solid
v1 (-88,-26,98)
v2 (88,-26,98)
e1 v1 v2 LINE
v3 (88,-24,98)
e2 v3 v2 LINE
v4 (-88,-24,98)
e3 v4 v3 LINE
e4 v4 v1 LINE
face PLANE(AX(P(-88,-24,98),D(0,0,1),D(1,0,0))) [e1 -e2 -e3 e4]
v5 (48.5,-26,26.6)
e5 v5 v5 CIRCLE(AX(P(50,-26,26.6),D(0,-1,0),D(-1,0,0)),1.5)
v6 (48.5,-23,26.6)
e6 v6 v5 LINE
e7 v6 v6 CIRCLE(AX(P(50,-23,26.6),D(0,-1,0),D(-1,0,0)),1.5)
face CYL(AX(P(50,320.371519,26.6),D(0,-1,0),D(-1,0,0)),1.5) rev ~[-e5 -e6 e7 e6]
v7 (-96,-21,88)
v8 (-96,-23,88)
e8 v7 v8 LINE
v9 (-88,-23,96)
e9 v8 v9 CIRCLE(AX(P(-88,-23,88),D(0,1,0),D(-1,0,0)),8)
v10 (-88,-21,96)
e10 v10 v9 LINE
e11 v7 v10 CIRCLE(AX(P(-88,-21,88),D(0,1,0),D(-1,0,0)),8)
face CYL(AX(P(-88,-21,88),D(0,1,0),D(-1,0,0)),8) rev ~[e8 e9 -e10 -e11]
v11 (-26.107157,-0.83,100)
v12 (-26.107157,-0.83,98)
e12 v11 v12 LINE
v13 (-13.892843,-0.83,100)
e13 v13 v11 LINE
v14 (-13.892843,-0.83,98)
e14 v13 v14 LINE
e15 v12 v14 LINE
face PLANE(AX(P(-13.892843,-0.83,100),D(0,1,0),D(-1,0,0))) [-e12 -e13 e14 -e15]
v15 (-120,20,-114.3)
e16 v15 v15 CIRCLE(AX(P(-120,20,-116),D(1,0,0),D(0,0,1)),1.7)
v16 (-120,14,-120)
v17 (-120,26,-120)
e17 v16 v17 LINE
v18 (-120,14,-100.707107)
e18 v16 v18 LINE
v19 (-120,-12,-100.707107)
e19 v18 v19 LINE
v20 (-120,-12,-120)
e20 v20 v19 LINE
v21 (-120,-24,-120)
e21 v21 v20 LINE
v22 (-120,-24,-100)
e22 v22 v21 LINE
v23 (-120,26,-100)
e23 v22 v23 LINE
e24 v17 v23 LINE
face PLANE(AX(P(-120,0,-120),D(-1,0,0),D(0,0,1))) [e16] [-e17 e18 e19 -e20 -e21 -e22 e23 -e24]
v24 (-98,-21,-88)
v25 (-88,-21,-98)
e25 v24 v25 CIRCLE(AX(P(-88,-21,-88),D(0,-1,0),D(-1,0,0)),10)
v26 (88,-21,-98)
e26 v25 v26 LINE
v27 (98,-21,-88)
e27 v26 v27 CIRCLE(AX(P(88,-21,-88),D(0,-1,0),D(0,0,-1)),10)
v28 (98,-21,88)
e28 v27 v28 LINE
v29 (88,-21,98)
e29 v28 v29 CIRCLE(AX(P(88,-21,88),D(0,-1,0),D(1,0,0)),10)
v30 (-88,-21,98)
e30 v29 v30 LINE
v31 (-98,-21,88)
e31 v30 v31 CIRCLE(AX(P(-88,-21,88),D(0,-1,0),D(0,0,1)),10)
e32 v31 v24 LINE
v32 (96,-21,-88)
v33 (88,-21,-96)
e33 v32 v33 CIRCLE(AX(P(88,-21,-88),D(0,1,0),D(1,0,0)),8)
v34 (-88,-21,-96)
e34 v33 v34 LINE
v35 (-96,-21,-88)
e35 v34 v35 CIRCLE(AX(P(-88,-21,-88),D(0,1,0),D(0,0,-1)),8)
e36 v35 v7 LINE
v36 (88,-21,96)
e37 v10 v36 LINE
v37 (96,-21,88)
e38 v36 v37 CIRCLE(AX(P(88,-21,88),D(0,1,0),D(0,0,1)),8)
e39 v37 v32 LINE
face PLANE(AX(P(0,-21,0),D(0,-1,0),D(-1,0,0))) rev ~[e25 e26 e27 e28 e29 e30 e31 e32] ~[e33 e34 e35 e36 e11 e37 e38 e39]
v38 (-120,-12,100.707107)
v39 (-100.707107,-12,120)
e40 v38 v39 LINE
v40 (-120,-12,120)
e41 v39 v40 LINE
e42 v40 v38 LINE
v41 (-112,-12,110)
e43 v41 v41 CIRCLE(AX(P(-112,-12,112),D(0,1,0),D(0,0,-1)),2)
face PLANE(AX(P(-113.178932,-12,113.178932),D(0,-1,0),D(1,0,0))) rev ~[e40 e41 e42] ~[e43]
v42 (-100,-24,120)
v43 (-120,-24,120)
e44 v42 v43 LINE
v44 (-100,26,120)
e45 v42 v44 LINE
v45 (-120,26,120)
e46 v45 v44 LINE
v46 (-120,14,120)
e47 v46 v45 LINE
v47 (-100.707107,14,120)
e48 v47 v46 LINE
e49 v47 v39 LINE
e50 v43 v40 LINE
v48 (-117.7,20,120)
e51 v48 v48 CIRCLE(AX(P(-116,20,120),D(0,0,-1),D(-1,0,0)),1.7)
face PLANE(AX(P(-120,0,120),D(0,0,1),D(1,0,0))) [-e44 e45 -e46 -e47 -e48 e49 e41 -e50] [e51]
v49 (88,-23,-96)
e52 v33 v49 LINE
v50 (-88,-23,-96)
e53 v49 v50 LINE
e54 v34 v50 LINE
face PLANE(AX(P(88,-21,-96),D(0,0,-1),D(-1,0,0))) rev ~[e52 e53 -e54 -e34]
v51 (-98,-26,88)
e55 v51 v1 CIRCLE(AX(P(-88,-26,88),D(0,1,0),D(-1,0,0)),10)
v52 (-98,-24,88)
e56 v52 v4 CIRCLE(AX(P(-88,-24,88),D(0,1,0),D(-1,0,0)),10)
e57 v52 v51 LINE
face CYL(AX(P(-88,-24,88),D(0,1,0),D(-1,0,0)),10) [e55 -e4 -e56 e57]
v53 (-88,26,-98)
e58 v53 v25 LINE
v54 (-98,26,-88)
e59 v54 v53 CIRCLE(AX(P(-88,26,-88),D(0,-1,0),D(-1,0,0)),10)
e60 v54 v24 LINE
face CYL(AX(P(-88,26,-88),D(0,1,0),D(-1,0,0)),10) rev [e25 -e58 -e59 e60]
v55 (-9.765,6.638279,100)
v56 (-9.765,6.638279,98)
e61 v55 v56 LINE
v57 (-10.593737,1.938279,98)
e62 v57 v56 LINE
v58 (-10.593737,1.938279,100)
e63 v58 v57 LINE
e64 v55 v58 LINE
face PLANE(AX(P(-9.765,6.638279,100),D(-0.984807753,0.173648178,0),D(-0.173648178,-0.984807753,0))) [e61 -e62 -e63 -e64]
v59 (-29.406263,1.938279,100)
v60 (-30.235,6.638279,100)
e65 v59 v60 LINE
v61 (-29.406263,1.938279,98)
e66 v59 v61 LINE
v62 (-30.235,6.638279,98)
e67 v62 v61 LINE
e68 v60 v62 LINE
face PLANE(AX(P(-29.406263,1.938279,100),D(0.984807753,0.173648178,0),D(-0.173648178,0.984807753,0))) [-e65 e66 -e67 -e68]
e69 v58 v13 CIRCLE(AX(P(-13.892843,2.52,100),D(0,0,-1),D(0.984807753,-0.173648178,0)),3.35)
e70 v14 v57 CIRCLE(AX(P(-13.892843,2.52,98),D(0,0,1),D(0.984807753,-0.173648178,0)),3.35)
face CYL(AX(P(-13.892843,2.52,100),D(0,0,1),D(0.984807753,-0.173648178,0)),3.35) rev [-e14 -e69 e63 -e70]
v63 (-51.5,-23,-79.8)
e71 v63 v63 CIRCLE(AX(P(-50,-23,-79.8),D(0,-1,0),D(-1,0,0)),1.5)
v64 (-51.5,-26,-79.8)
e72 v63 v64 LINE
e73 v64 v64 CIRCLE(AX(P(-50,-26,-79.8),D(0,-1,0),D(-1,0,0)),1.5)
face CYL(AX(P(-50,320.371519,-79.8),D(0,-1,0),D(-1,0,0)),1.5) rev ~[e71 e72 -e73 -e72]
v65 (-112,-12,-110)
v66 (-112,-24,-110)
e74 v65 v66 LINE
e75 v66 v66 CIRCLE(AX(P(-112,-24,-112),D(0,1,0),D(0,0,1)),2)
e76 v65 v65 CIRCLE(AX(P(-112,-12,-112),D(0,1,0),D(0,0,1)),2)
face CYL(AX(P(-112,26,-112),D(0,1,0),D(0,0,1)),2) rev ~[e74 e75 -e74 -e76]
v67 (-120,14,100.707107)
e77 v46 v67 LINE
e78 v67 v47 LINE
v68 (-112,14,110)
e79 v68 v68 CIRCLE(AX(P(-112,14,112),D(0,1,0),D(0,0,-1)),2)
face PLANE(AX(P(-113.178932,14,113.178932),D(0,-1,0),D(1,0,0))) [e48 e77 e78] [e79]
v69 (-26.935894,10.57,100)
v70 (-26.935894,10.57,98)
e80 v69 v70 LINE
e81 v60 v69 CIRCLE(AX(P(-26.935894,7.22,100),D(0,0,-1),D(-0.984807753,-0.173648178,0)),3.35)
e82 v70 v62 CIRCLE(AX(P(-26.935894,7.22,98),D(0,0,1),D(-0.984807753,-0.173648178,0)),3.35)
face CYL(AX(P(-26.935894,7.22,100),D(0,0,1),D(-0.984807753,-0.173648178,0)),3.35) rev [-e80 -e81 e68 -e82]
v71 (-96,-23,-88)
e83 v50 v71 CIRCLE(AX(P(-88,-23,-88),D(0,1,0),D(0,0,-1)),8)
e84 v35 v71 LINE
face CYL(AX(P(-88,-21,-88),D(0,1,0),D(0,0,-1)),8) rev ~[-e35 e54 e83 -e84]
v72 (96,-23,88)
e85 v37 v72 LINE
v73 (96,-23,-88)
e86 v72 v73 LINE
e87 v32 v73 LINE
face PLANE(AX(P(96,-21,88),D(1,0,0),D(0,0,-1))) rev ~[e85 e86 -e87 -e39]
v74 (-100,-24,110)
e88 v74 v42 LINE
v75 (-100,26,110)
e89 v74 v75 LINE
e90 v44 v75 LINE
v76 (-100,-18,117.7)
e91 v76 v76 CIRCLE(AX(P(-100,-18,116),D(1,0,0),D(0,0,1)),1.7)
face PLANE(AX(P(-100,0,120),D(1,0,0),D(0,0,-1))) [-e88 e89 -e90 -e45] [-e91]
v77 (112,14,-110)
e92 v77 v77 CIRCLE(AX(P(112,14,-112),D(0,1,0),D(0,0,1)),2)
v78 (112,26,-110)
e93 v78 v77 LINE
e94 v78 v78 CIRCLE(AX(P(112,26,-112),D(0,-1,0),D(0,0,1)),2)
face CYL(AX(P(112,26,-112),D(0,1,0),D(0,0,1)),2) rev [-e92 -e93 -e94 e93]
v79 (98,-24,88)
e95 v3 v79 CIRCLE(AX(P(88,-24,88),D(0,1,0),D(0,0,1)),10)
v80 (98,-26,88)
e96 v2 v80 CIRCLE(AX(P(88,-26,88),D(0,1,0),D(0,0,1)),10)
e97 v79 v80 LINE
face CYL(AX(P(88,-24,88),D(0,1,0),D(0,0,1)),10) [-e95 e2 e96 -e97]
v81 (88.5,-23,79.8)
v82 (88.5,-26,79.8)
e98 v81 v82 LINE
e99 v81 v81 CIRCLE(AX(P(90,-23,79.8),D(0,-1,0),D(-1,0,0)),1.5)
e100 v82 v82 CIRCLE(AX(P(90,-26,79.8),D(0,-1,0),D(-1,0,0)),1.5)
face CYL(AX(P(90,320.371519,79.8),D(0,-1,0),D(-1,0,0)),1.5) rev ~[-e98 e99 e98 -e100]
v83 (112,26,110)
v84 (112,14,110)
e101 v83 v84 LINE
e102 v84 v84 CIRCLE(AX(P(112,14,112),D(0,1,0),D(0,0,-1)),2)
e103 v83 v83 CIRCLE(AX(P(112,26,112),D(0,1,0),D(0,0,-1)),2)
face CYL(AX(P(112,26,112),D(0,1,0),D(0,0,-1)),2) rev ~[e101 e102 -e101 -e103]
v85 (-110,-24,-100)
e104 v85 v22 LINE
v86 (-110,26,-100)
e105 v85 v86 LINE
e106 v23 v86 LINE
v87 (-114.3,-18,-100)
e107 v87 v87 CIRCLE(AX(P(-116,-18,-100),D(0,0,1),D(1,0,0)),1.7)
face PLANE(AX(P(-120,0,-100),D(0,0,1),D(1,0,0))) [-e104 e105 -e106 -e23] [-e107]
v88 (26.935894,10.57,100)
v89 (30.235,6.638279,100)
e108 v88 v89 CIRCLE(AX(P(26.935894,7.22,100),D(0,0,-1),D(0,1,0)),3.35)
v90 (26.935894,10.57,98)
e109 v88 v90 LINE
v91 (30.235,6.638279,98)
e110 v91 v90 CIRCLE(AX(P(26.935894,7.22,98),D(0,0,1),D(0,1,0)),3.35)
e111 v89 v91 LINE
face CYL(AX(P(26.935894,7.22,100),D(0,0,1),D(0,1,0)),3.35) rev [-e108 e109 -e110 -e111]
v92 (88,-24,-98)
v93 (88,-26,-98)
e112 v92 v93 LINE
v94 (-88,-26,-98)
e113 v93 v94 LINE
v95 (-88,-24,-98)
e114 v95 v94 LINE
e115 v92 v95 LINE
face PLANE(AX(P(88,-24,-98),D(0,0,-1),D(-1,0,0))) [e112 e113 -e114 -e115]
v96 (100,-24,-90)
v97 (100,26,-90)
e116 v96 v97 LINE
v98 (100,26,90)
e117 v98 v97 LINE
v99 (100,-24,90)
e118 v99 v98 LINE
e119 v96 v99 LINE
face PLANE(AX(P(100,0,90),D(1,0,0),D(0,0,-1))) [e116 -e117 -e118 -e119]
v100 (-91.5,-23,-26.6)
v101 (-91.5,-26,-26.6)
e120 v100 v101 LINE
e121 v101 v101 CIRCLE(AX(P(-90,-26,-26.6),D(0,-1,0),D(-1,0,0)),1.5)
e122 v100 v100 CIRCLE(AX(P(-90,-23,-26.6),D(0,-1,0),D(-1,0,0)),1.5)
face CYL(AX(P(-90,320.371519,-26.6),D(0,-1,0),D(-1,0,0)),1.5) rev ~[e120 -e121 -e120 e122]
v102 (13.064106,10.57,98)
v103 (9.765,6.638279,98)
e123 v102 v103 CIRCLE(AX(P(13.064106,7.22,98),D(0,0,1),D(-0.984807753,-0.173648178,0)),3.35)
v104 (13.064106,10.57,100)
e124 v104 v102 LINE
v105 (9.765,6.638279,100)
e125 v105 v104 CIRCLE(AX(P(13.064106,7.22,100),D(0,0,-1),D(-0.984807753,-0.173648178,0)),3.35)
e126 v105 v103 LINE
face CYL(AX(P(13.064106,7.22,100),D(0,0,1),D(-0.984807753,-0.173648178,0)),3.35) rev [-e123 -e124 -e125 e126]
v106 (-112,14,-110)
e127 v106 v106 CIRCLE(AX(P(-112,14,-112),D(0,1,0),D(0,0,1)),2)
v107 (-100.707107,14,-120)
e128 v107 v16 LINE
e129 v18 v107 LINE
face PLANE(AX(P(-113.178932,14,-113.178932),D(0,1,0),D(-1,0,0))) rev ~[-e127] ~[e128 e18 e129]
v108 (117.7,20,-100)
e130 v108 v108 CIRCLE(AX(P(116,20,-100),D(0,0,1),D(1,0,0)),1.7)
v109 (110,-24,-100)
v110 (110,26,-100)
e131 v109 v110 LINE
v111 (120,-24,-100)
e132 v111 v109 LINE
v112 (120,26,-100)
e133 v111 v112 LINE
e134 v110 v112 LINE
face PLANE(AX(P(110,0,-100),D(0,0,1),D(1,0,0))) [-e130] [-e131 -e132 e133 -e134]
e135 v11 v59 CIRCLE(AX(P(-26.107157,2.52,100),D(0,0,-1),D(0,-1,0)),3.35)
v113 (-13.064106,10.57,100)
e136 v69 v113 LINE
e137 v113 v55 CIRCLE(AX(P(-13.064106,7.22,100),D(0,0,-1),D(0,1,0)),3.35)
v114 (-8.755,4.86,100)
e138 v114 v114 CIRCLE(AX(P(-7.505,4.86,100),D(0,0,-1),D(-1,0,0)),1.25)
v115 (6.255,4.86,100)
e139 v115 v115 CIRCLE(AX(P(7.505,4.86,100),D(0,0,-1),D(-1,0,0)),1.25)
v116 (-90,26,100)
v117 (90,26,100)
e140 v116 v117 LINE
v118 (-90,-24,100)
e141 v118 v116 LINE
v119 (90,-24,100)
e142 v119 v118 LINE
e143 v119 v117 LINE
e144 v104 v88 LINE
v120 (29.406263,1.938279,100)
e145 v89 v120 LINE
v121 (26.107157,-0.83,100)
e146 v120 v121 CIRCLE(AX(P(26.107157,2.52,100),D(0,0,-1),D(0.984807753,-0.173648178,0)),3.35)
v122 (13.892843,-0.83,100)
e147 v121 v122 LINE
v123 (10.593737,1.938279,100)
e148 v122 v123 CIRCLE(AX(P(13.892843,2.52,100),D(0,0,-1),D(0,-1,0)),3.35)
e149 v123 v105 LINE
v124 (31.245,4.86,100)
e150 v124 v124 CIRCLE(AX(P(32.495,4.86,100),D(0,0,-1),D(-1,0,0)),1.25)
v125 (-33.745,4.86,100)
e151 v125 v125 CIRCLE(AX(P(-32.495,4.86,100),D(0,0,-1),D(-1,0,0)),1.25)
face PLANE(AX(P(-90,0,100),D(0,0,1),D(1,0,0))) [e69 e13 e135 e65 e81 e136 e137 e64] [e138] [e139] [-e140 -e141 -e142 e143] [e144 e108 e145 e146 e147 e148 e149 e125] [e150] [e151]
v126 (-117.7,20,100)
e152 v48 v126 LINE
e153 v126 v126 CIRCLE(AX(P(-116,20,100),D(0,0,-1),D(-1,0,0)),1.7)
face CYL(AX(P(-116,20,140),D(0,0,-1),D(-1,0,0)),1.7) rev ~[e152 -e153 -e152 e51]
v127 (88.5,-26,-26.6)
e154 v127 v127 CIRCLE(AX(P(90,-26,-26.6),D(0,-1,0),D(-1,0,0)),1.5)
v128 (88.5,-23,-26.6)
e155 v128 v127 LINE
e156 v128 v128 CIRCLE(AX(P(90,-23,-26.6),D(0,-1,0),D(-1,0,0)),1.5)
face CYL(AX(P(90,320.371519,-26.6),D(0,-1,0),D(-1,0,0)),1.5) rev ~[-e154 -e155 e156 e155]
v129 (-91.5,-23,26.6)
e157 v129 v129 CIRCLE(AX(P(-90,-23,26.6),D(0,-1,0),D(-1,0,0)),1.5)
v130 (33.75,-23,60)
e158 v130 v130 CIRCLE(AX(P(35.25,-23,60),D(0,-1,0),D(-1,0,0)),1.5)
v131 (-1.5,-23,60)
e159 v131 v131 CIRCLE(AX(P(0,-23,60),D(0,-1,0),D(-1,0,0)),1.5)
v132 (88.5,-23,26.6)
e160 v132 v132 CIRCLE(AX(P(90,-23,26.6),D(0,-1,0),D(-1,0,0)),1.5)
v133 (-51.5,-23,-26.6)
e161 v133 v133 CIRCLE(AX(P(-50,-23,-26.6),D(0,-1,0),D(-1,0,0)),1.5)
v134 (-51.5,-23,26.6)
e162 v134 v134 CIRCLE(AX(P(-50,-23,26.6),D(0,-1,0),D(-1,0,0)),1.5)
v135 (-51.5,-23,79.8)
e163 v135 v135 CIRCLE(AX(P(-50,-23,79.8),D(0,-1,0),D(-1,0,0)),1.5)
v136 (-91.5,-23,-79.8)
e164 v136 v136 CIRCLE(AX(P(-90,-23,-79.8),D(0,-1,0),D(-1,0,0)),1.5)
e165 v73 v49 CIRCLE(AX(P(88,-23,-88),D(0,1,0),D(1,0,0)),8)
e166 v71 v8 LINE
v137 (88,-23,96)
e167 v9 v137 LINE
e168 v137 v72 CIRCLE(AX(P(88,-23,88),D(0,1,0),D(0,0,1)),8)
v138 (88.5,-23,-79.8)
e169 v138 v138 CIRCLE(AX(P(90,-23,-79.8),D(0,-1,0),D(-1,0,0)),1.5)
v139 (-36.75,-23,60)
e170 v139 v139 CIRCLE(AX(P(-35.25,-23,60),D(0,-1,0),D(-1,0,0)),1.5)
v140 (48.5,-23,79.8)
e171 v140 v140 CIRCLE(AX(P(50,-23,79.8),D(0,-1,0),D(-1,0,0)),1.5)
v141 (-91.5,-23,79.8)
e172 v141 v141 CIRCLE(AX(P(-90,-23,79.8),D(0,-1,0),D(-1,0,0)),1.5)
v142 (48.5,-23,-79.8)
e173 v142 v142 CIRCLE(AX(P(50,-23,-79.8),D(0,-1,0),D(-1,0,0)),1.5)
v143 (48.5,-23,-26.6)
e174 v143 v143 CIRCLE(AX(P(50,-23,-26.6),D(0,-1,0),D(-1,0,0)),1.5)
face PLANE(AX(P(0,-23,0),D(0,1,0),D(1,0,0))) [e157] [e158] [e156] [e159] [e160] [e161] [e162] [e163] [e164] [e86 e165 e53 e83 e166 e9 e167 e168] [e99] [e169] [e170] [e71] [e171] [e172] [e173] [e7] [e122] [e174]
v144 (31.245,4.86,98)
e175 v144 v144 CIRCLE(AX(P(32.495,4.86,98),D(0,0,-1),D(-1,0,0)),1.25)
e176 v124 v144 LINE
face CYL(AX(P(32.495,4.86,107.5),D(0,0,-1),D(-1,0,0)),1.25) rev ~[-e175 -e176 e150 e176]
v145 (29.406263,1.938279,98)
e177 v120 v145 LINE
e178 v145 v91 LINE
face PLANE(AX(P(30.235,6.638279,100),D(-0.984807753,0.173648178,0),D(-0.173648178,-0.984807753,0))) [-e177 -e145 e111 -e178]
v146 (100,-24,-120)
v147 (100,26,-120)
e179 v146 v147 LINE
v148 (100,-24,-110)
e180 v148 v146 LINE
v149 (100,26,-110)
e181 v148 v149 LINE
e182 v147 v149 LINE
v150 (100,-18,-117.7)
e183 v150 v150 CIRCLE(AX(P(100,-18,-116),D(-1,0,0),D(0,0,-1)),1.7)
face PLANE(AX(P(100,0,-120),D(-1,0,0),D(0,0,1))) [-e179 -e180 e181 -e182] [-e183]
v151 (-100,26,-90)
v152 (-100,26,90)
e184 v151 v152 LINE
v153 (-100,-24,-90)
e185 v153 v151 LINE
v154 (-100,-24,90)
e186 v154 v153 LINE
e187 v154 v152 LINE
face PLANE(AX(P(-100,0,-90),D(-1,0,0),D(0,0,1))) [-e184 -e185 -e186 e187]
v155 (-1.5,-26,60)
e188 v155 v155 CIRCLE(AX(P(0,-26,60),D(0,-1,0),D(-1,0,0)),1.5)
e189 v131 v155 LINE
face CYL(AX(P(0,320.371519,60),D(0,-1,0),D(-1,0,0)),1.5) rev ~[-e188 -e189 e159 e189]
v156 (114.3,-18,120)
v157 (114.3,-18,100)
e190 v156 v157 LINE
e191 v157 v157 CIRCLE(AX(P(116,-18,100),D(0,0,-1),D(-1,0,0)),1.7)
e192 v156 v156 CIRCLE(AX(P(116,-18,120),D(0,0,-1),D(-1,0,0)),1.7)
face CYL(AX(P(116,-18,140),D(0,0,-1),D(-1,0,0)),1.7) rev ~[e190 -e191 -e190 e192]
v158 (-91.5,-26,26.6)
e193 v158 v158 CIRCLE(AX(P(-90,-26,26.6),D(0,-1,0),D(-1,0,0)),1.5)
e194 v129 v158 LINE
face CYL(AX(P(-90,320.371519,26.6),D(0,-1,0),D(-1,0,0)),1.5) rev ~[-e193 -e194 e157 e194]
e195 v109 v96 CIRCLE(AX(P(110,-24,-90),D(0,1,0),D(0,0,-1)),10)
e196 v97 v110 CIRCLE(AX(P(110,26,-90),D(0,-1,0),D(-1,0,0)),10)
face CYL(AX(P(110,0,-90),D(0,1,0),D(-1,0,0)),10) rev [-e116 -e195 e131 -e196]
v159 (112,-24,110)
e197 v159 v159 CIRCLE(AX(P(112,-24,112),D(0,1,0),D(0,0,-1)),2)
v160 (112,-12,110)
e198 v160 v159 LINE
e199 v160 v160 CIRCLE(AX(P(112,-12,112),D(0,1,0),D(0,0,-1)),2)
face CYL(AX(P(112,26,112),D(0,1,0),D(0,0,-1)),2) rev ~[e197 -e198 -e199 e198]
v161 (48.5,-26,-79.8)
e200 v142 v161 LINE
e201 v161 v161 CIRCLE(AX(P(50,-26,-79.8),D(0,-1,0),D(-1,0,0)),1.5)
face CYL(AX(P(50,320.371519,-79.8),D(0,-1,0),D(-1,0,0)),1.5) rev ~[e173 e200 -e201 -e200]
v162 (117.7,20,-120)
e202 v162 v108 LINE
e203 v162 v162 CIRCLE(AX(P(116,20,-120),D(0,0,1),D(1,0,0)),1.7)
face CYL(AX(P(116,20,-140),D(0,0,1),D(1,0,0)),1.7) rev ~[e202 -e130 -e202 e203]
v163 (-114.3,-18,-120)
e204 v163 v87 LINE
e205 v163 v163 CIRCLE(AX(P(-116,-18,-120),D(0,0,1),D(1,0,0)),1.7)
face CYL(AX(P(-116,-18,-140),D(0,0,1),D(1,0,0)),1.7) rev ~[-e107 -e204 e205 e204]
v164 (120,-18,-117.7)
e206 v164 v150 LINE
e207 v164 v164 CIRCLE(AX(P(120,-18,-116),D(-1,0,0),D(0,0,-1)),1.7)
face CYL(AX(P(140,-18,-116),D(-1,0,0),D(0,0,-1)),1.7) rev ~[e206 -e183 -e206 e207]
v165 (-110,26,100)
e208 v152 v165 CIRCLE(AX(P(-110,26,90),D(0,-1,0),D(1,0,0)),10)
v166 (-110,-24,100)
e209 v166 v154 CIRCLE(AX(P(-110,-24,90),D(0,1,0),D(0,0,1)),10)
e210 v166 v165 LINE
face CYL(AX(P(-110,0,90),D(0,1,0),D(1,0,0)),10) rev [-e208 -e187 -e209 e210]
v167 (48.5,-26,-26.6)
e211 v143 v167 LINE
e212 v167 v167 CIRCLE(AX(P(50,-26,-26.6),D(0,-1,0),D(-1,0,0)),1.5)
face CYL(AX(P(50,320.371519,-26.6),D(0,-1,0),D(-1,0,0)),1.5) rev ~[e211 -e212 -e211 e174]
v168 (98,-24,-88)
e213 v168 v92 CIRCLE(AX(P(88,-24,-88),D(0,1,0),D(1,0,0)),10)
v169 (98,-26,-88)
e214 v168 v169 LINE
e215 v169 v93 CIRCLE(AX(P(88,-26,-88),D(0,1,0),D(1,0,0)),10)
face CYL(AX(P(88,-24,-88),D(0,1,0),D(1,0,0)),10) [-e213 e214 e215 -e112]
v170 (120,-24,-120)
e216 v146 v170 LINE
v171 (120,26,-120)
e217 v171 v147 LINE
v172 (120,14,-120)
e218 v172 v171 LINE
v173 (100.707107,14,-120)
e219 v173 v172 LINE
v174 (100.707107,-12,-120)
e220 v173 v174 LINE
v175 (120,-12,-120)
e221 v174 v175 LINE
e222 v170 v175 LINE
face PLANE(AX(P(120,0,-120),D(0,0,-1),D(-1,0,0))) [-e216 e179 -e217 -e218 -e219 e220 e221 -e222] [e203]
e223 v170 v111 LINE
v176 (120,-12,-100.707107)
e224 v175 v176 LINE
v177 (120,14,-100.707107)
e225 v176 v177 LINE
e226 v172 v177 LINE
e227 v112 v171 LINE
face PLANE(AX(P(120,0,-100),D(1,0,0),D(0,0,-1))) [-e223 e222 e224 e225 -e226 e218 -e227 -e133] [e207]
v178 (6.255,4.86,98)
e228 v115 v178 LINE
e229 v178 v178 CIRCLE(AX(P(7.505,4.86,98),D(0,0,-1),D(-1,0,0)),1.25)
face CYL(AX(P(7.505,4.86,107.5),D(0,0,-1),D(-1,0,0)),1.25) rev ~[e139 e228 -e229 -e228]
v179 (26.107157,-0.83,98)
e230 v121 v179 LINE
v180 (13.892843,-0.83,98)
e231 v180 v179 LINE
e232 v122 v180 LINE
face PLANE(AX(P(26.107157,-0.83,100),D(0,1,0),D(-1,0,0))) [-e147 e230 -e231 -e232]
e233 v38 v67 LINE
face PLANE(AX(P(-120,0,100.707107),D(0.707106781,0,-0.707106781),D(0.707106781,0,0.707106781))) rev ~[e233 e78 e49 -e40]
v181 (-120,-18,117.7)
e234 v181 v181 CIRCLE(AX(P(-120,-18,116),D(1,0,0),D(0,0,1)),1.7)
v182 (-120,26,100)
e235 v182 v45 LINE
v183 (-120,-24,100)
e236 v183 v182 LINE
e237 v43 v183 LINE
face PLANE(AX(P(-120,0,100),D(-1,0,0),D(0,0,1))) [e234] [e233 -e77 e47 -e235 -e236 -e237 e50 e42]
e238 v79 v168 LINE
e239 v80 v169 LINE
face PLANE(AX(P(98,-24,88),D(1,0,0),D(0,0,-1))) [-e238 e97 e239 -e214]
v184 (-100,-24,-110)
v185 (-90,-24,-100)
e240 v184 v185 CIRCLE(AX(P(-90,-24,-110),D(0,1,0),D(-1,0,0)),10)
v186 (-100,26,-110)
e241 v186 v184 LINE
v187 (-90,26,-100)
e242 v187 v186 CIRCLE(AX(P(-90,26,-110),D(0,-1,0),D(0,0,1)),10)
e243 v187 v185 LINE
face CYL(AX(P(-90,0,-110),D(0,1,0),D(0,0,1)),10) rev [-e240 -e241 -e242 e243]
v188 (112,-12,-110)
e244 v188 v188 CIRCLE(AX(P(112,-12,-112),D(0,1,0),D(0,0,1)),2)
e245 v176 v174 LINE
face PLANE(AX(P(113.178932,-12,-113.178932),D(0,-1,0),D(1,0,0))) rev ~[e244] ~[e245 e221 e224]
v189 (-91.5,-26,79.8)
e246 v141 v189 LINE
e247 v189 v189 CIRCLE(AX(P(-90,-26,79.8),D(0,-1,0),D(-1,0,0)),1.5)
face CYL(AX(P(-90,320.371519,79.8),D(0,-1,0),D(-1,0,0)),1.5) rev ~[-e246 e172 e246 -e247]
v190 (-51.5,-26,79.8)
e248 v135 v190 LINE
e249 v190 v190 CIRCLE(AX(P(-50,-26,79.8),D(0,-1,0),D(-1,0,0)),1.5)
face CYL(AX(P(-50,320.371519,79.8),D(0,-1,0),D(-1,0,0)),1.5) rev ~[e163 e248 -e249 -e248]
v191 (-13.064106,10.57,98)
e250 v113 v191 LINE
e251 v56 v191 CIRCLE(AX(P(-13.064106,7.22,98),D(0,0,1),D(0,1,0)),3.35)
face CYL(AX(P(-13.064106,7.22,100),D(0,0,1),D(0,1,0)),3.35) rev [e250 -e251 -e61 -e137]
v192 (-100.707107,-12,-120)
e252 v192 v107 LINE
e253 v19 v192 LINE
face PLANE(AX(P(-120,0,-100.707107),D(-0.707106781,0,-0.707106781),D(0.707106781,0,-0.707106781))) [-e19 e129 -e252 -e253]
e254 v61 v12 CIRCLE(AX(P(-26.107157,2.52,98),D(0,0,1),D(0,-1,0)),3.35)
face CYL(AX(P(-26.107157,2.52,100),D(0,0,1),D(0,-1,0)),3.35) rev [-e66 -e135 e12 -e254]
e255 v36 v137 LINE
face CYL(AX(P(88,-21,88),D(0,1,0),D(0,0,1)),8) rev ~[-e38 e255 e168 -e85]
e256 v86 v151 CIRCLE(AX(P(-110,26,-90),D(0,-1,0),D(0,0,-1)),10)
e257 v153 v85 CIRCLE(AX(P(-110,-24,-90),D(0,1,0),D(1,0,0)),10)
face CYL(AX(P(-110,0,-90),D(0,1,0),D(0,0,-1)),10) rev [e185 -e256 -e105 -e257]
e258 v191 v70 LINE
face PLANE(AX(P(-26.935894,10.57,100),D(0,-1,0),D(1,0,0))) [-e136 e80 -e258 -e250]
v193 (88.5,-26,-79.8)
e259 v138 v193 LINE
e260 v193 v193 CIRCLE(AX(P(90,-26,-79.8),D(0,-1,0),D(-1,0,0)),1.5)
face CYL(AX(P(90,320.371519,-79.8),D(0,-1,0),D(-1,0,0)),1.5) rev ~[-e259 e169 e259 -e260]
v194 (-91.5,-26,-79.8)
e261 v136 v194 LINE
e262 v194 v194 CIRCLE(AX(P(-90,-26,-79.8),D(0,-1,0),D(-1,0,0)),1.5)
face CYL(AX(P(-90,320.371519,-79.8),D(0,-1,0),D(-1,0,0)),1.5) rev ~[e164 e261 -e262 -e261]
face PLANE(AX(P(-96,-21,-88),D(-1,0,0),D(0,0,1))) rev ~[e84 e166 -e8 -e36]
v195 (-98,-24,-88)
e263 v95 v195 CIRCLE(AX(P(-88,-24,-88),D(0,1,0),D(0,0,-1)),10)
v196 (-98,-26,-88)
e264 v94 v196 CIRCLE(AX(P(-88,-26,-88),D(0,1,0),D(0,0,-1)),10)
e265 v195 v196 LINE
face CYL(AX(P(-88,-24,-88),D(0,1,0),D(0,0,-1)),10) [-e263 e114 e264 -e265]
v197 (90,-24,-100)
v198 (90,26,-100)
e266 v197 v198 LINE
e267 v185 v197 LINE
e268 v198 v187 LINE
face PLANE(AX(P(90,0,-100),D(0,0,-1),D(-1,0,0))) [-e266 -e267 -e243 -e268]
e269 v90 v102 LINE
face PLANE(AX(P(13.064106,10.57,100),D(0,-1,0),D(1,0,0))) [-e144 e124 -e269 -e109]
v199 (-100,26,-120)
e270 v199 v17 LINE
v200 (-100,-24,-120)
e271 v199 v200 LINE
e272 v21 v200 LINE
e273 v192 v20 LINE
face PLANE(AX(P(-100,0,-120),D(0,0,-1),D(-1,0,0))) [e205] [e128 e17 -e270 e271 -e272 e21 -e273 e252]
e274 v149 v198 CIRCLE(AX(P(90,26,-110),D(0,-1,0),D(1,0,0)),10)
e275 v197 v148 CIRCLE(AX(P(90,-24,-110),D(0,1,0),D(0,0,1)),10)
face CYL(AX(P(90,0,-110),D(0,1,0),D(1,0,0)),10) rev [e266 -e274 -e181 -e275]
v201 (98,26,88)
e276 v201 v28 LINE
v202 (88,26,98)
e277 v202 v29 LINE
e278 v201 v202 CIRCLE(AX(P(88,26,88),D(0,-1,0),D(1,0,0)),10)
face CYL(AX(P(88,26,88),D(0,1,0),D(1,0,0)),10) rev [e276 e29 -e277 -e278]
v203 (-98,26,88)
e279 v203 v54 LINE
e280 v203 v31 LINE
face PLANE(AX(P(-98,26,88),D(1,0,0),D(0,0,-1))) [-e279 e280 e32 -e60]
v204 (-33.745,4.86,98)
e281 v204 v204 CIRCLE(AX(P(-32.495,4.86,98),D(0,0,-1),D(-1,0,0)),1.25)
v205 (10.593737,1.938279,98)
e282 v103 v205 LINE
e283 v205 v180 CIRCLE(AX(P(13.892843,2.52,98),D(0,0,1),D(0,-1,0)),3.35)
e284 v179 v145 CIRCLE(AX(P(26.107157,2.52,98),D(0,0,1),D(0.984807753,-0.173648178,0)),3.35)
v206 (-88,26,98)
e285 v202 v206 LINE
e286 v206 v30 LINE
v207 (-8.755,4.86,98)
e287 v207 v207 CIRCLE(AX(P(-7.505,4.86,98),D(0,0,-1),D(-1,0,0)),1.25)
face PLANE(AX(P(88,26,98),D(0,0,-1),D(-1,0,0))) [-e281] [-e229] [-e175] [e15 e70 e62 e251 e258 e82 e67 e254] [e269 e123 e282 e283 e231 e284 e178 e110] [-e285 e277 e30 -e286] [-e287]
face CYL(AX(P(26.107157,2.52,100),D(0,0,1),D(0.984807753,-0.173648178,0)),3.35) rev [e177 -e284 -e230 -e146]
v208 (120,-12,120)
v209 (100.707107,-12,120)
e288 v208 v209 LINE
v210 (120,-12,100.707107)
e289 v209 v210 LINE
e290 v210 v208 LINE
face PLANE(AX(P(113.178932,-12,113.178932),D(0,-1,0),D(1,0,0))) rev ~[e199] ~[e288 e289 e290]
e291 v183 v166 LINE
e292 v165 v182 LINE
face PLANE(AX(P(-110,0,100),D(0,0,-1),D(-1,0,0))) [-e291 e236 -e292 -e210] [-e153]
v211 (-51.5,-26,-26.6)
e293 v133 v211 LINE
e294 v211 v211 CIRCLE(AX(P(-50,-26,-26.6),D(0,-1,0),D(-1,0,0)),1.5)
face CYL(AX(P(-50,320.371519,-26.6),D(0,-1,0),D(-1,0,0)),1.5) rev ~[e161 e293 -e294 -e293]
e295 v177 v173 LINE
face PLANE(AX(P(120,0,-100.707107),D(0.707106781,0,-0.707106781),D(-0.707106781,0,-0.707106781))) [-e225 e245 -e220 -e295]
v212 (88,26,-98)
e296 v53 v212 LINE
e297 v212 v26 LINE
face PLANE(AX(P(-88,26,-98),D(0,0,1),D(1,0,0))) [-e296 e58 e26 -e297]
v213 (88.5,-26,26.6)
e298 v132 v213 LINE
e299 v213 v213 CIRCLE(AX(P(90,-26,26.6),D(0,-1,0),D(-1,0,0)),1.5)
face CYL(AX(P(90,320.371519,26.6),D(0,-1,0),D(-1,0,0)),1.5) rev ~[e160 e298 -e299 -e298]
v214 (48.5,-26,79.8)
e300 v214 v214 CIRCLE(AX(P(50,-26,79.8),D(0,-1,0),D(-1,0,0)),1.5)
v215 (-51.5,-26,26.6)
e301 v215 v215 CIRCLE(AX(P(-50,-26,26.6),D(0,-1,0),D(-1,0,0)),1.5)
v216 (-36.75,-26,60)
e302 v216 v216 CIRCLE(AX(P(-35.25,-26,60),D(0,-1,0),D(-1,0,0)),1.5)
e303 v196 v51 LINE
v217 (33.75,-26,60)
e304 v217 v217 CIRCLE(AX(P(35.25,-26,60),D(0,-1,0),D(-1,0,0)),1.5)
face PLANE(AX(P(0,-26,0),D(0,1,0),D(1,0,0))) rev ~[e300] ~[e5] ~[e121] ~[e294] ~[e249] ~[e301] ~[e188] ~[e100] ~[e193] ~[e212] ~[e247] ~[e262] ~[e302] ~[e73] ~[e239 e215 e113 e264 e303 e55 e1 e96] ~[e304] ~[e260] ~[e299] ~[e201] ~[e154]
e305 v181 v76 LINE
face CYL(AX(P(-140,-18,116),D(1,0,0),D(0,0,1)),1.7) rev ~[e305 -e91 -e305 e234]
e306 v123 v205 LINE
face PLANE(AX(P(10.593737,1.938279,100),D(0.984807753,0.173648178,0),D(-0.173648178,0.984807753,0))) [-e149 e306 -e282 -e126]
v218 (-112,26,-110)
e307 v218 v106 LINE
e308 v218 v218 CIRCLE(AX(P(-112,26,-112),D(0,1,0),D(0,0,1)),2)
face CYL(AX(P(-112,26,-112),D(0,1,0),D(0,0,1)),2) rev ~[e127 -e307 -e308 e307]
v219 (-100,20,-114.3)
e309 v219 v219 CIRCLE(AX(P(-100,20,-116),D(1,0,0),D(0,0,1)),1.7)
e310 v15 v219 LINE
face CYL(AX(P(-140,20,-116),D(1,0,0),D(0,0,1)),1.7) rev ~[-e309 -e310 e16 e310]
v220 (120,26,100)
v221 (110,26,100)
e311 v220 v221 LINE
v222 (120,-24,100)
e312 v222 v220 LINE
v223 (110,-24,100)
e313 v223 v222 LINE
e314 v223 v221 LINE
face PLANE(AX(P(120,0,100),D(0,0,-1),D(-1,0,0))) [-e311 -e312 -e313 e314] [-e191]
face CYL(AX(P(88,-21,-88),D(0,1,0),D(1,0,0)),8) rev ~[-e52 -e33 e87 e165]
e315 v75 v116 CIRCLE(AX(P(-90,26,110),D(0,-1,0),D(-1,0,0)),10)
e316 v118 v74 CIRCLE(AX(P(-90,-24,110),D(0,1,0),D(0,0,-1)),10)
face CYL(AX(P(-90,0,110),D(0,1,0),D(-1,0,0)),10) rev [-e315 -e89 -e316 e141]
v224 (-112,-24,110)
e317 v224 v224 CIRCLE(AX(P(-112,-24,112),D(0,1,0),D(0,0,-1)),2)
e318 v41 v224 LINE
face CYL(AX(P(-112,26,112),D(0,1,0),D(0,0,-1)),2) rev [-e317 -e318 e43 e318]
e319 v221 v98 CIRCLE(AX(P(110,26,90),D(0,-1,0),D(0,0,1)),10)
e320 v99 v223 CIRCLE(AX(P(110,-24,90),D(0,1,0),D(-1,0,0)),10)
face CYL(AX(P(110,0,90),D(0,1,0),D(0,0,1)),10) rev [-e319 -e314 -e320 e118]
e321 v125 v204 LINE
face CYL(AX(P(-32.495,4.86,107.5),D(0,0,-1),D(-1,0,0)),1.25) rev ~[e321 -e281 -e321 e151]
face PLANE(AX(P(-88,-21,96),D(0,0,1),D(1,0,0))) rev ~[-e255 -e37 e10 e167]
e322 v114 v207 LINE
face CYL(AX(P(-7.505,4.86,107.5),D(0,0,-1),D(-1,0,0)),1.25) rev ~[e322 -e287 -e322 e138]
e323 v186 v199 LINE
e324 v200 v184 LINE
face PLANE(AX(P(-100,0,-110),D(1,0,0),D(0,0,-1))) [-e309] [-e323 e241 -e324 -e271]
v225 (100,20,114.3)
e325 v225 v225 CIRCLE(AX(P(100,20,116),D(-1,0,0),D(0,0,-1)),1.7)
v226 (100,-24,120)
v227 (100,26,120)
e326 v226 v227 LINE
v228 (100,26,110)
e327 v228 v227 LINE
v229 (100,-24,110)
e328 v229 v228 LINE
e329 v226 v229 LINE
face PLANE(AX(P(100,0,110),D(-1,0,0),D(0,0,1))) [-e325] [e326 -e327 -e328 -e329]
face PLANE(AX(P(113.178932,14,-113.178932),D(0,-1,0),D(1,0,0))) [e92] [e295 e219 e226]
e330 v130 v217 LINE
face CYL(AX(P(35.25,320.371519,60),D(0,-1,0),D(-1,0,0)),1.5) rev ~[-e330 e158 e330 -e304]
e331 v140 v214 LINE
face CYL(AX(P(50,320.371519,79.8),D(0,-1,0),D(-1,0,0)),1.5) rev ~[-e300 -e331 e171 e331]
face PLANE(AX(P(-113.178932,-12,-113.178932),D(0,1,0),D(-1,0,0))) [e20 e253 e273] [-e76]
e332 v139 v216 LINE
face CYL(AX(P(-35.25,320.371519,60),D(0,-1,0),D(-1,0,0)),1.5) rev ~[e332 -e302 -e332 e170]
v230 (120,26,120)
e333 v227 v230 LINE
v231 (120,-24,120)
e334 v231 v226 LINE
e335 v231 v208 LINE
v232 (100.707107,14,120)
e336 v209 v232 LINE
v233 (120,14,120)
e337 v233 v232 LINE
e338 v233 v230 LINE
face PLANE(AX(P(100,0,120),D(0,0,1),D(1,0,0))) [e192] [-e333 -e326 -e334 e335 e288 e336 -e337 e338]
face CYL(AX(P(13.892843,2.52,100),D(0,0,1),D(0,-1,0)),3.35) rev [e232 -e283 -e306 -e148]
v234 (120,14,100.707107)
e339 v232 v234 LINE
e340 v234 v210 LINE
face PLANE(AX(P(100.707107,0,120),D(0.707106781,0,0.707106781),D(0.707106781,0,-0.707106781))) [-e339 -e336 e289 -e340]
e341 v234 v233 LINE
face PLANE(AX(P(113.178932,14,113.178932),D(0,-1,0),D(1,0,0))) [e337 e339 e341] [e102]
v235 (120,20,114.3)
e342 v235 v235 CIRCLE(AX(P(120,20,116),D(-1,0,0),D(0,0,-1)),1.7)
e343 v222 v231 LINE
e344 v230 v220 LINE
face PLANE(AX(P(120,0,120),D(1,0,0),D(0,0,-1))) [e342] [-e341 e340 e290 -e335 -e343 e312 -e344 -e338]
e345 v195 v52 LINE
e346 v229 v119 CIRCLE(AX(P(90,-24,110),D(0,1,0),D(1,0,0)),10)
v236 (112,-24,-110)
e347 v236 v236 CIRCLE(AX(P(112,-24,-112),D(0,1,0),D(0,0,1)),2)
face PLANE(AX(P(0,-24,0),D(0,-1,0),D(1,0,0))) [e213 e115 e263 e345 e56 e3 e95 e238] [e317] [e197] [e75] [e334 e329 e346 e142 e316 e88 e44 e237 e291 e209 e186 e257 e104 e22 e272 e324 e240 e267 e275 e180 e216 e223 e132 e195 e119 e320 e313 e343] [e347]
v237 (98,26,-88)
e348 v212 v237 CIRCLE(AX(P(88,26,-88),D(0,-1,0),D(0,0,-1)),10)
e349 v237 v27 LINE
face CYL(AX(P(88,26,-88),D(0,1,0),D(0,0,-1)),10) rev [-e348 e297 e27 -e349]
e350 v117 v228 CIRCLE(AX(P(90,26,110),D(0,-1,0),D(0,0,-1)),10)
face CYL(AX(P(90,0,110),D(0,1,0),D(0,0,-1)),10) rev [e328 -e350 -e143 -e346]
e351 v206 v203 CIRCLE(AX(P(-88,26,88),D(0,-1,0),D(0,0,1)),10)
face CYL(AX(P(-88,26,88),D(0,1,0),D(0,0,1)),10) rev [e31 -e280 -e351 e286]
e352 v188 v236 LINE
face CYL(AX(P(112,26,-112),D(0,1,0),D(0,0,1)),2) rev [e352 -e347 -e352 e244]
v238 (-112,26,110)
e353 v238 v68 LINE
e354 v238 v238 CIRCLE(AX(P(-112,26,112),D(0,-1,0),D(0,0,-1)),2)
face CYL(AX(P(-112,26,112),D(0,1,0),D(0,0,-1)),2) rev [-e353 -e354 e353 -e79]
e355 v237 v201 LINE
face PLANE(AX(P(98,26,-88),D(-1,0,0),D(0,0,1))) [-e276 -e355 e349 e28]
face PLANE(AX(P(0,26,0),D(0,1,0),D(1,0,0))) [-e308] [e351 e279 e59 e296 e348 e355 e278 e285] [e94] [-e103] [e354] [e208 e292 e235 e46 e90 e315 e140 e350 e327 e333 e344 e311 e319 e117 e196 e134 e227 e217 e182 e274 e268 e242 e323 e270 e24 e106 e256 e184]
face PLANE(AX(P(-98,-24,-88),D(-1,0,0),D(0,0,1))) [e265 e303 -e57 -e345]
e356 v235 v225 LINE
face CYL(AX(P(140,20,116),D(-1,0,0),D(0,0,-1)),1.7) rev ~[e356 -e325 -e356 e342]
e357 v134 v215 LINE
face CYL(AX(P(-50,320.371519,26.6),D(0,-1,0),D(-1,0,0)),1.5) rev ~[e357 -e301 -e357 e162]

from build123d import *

# Parameters (mm, degrees)
BOSS_EXTRUDE1_DEPTH                = 26
CUT_EXTRUDE1_DEPTH                 = 14
CUT_EXTRUDE2_DEPTH                 = 47
CUT_EXTRUDE3_DEPTH                 = 2
SKETCH5_R                          = 2
CUT_EXTRUDE4_DEPTH                 = 178.493661859
MIRROR2_COPY_1_SKETCH_R            = 2
MIRROR2_COPY_1_DEPTH               = 178.493661859
CUT_EXTRUDE5_DEPTH                 = 12
CUT_EXTRUDE6_START                 = -2
CUT_EXTRUDE6_DEPTH                 = 2
F_3_0_3_DIAMETER_HOLE3_D           = 3
M3_CLEARANCE_HOLE2_D               = 3.4
M3_CLEARANCE_HOLE2_DEPTH           = 20
M3_CLEARANCE_HOLE2_ON_FACE_2_D     = 3.4
M3_CLEARANCE_HOLE2_ON_FACE_2_DEPTH = 20
M3_CLEARANCE_HOLE2_ON_FACE_3_D     = 3.4
M3_CLEARANCE_HOLE2_ON_FACE_3_DEPTH = 20
M3_CLEARANCE_HOLE2_ON_FACE_4_D     = 3.4
M3_CLEARANCE_HOLE2_ON_FACE_4_DEPTH = 20
CUT_EXTRUDE7_DEPTH                 = 10
CUT_EXTRUDE8_DEPTH                 = 10
M3X0_5_TAPPED_HOLE1_D              = 2.5
M3X0_5_TAPPED_HOLE1_DEPTH          = 7.5
M3X0_5_TAPPED_HOLE1_TIP            = 0.751075774


with BuildPart() as part:
    # Sketch1 → Boss-Extrude1 (new, symmetric)
    with BuildSketch(Plane(origin=(0, 0, 0), x_dir=(1, 0, 0), z_dir=(0, 1, 0))):
        with BuildLine():
            Line((-100, 120), (-120, 120))
            Line((-120, 120), (-120, 100))
            Line((-120, 100), (-110, 100))
            ThreePointArc((-110, 100), (-102.928932188, 97.071067812), (-100, 90))
            Line((-100, 90), (-100, 0))
            Line((-100, 0), (-100, -90))
            ThreePointArc((-100, -90), (-102.928932188, -97.071067812), (-110, -100))
            Line((-110, -100), (-120, -100))
            Line((-120, -100), (-120, -120))
            Line((-120, -120), (-100, -120))
            Line((-100, -120), (-100, -110))
            ThreePointArc((-100, -110), (-97.071067812, -102.928932188), (-90, -100))
            Line((-90, -100), (0, -100))
            Line((0, -100), (90, -100))
            ThreePointArc((90, -100), (97.071067812, -102.928932188), (100, -110))
            Line((100, -110), (100, -120))
            Line((100, -120), (120, -120))
            Line((120, -120), (120, -100))
            Line((120, -100), (110, -100))
            ThreePointArc((110, -100), (102.928932188, -97.071067812), (100, -90))
            Line((100, -90), (100, 0))
            Line((100, 0), (100, 90))
            ThreePointArc((100, 90), (102.928932188, 97.071067812), (110, 100))
            Line((110, 100), (120, 100))
            Line((120, 100), (120, 120))
            Line((120, 120), (100, 120))
            Line((100, 120), (100, 110))
            ThreePointArc((100, 110), (97.071067812, 102.928932188), (90, 100))
            Line((90, 100), (0, 100))
            Line((0, 100), (-90, 100))
            ThreePointArc((-90, 100), (-97.071067812, 102.928932188), (-100, 110))
            Line((-100, 110), (-100, 120))
        make_face()
    extrude(amount=BOSS_EXTRUDE1_DEPTH, both=True)

    # Sketch2 → Cut-Extrude1 (cut)
    with BuildSketch(Plane.XZ):
        Polygon((-120, -100.707106781), (-100.707106781, -120), (-120, -120), align=None)
        Polygon((-100.707106781, 120), (-120, 120), (-120, 100.707106781), align=None)
        Polygon((120, 100.707106781), (120, 120), (100.707106781, 120), align=None)
        Polygon((100.707106781, -120), (120, -120), (120, -100.707106781), align=None)
    extrude(amount=-CUT_EXTRUDE1_DEPTH, mode=Mode.SUBTRACT)

    # Sketch3 → Cut-Extrude2 (cut)
    with BuildSketch(Plane(origin=(0, 26, 0), x_dir=(1, 0, 0), z_dir=(0, 1, 0))):
        with BuildLine():
            Line((-88, 98), (88, 98))
            ThreePointArc((88, 98), (95.071067812, 95.071067812), (98, 88))
            Line((98, 88), (98, -88))
            ThreePointArc((98, -88), (95.071067812, -95.071067812), (88, -98))
            Line((88, -98), (-88, -98))
            ThreePointArc((-88, -98), (-95.071067812, -95.071067812), (-98, -88))
            Line((-98, -88), (-98, 88))
            ThreePointArc((-98, 88), (-95.071067812, 95.071067812), (-88, 98))
        make_face()
    extrude(amount=-CUT_EXTRUDE2_DEPTH, mode=Mode.SUBTRACT)

    # Sketch4 → Cut-Extrude3 (cut)
    with BuildSketch(Plane(origin=(0, -21, 0), x_dir=(1, 0, 0), z_dir=(0, 1, 0))):
        with BuildLine():
            Line((-88, -96), (88, -96))
            ThreePointArc((88, -96), (93.656854249, -93.656854249), (96, -88))
            Line((96, -88), (96, 88))
            ThreePointArc((96, 88), (93.656854249, 93.656854249), (88, 96))
            Line((88, 96), (-88, 96))
            ThreePointArc((-88, 96), (-93.656854249, 93.656854249), (-96, 88))
            Line((-96, 88), (-96, -88))
            ThreePointArc((-96, -88), (-93.656854249, -93.656854249), (-88, -96))
        make_face()
    extrude(amount=-CUT_EXTRUDE3_DEPTH, mode=Mode.SUBTRACT)

    # Sketch5 → Cut-Extrude4 (cut, through all)
    with BuildSketch(Plane(origin=(0, 26, 0), x_dir=(1, 0, 0), z_dir=(0, 1, 0))):
        with Locations(Location((-112, 112, 0), (0, 0, 270))):
            Circle(SKETCH5_R)
    cut_extrude4 = extrude(amount=-CUT_EXTRUDE4_DEPTH, mode=Mode.SUBTRACT)

    # Mirror1: Cut-Extrude4 across plane
    add(cut_extrude4.mirror(Plane(origin=(0, 0, 0), x_dir=(0, 0, 1), z_dir=(1, 0, 0))), mode=Mode.SUBTRACT)

    # Mirror2: Cut-Extrude4 across plane
    add(cut_extrude4.mirror(Plane.XY), mode=Mode.SUBTRACT)

    # Mirror2 copy 1 sketch → Mirror2 copy 1 (cut, through all)
    with BuildSketch(Plane(origin=(0, 26, 0), x_dir=(-1, 0, 0), z_dir=(0, 1, 0))):
        with Locations(Location((-112, 112, 0), (0, 0, 270))):
            Circle(MIRROR2_COPY_1_SKETCH_R)
    extrude(amount=-MIRROR2_COPY_1_DEPTH, mode=Mode.SUBTRACT)

    # Sketch2<3> → Cut-Extrude5 (cut)
    with BuildSketch(Plane.XZ):
        Polygon((-120, -100.707106781), (-100.707106781, -120), (-120, -120), align=None)
        Polygon((-100.707106781, 120), (-120, 120), (-120, 100.707106781), align=None)
        Polygon((120, 100.707106781), (120, 120), (100.707106781, 120), align=None)
        Polygon((100.707106781, -120), (120, -120), (120, -100.707106781), align=None)
    extrude(amount=CUT_EXTRUDE5_DEPTH, mode=Mode.SUBTRACT)

    # Sketch14 → Cut-Extrude6 (cut)
    with BuildSketch(Plane.XZ.offset(26).offset(CUT_EXTRUDE6_START)):
        with BuildLine():
            Line((-90, -100), (90, -100))
            ThreePointArc((90, -100), (97.071067812, -102.928932188), (100, -110))
            Line((100, -110), (100, -120))
            Line((100, -120), (120, -120))
            Line((120, -120), (120, -100))
            Line((120, -100), (110, -100))
            ThreePointArc((110, -100), (102.928932188, -97.071067812), (100, -90))
            Line((100, -90), (100, 90))
            ThreePointArc((100, 90), (102.928932188, 97.071067812), (110, 100))
            Line((110, 100), (120, 100))
            Line((120, 100), (120, 120))
            Line((120, 120), (100, 120))
            Line((100, 120), (100, 110))
            ThreePointArc((100, 110), (97.071067812, 102.928932188), (90, 100))
            Line((90, 100), (-90, 100))
            ThreePointArc((-90, 100), (-97.071067812, 102.928932188), (-100, 110))
            Line((-100, 110), (-100, 120))
            Line((-100, 120), (-120, 120))
            Line((-120, 120), (-120, 100))
            Line((-120, 100), (-110, 100))
            ThreePointArc((-110, 100), (-102.928932188, 97.071067812), (-100, 90))
            Line((-100, 90), (-100, -90))
            ThreePointArc((-100, -90), (-102.928932188, -97.071067812), (-110, -100))
            Line((-110, -100), (-120, -100))
            Line((-120, -100), (-120, -120))
            Line((-120, -120), (-100, -120))
            Line((-100, -120), (-100, -110))
            ThreePointArc((-100, -110), (-97.071067812, -102.928932188), (-90, -100))
        make_face()
        with BuildLine():
            Line((-88, 98), (88, 98))
            ThreePointArc((88, 98), (95.071067812, 95.071067812), (98, 88))
            Line((98, 88), (98, -88))
            ThreePointArc((98, -88), (95.071067812, -95.071067812), (88, -98))
            Line((88, -98), (-88, -98))
            ThreePointArc((-88, -98), (-95.071067812, -95.071067812), (-98, -88))
            Line((-98, -88), (-98, 88))
            ThreePointArc((-98, 88), (-95.071067812, 95.071067812), (-88, 98))
        make_face(mode=Mode.SUBTRACT)
    extrude(amount=CUT_EXTRUDE6_DEPTH, mode=Mode.SUBTRACT)

    # Ø3.0 (3) Diameter Hole3 (through all)
    with Locations(Plane(origin=(0, -23, 0), x_dir=(1, 0, 0), z_dir=(0, 1, 0))):
        with Locations((-90, 79.8), (-50, 79.8), (-50, 26.6), (-90, 26.6), (-90, -26.6), (-50, -26.6), (-50, -79.8), (-90, -79.8), (-35.25, -60), (0, -60), (35.25, -60), (50, -79.8), (90, -79.8), (90, -26.6), (50, -26.6), (50, 26.6), (90, 26.6), (90, 79.8), (50, 79.8)):
            Hole(F_3_0_3_DIAMETER_HOLE3_D / 2)

    # M3 Clearance Hole2
    with Locations(Plane(origin=(-116, 20, 120), x_dir=(1, 0, 0), z_dir=(0, 0, 1))):
        with Locations((0, 0), (232, -38)):
            Hole(M3_CLEARANCE_HOLE2_D / 2, depth=M3_CLEARANCE_HOLE2_DEPTH)

    # M3 Clearance Hole2 on face 2
    with Locations(Plane(origin=(120, 20, 116), x_dir=(0, 0, 1), z_dir=(1, 0, 0))):
        with Locations((0, 0), (-232, 38)):
            Hole(M3_CLEARANCE_HOLE2_ON_FACE_2_D / 2, depth=M3_CLEARANCE_HOLE2_ON_FACE_2_DEPTH)

    # M3 Clearance Hole2 on face 3
    with Locations(Plane(origin=(116, 20, -120), x_dir=(-1, 0, 0), z_dir=(0, 0, -1))):
        with Locations((0, 0), (232, -38)):
            Hole(M3_CLEARANCE_HOLE2_ON_FACE_3_D / 2, depth=M3_CLEARANCE_HOLE2_ON_FACE_3_DEPTH)

    # M3 Clearance Hole2 on face 4
    with Locations(Plane(origin=(-120, 20, -116), x_dir=(0, 0, -1), z_dir=(-1, 0, 0))):
        with Locations((0, 0), (-232, 38)):
            Hole(M3_CLEARANCE_HOLE2_ON_FACE_4_D / 2, depth=M3_CLEARANCE_HOLE2_ON_FACE_4_DEPTH)

    # Sketch26 → Cut-Extrude7 (cut)
    with BuildSketch(Plane.XY.offset(100)):
        with BuildLine():
            Line((-26.935894027, 10.57), (-13.064105973, 10.57))
            ThreePointArc((-13.064105973, 10.57), (-10.497857088, 9.373338492), (-9.765, 6.638278605))
            Line((-9.765, 6.638278605), (-10.593736809, 1.938278605))
            ThreePointArc((-10.593736809, 1.938278605), (-11.739504289, -0.046248884), (-13.892842782, -0.83))
            Line((-13.892842782, -0.83), (-26.107157218, -0.83))
            ThreePointArc((-26.107157218, -0.83), (-28.260495711, -0.046248884), (-29.406263191, 1.938278605))
            Line((-29.406263191, 1.938278605), (-30.235, 6.638278605))
            ThreePointArc((-30.235, 6.638278605), (-29.502142912, 9.373338492), (-26.935894027, 10.57))
        make_face()
    extrude(amount=-CUT_EXTRUDE7_DEPTH, mode=Mode.SUBTRACT)

    # Sketch27 → Cut-Extrude8 (cut)
    with BuildSketch(Plane.XY.offset(100)):
        with BuildLine():
            Line((13.064105973, 10.57), (26.935894027, 10.57))
            ThreePointArc((26.935894027, 10.57), (29.502142912, 9.373338492), (30.235, 6.638278605))
            Line((30.235, 6.638278605), (29.406263191, 1.938278605))
            ThreePointArc((29.406263191, 1.938278605), (28.260495711, -0.046248884), (26.107157218, -0.83))
            Line((26.107157218, -0.83), (13.892842782, -0.83))
            ThreePointArc((13.892842782, -0.83), (11.739504289, -0.046248884), (10.593736809, 1.938278605))
            Line((10.593736809, 1.938278605), (9.765, 6.638278605))
            ThreePointArc((9.765, 6.638278605), (10.497857088, 9.373338492), (13.064105973, 10.57))
        make_face()
    extrude(amount=-CUT_EXTRUDE8_DEPTH, mode=Mode.SUBTRACT)

    # M3x0.5 Tapped Hole1
    with Locations(Plane.XY.offset(100)):
        with Locations((-32.495, 4.86), (-7.505, 4.86), (7.505, 4.86), (32.495, 4.86)):
            Hole(M3X0_5_TAPPED_HOLE1_D / 2, depth=M3X0_5_TAPPED_HOLE1_DEPTH)
            with Locations((0, 0, -(M3X0_5_TAPPED_HOLE1_DEPTH + M3X0_5_TAPPED_HOLE1_TIP / 2))):  # 118° drill point
                Cone(0, M3X0_5_TAPPED_HOLE1_D / 2, M3X0_5_TAPPED_HOLE1_TIP, mode=Mode.SUBTRACT)


solid = part.part
